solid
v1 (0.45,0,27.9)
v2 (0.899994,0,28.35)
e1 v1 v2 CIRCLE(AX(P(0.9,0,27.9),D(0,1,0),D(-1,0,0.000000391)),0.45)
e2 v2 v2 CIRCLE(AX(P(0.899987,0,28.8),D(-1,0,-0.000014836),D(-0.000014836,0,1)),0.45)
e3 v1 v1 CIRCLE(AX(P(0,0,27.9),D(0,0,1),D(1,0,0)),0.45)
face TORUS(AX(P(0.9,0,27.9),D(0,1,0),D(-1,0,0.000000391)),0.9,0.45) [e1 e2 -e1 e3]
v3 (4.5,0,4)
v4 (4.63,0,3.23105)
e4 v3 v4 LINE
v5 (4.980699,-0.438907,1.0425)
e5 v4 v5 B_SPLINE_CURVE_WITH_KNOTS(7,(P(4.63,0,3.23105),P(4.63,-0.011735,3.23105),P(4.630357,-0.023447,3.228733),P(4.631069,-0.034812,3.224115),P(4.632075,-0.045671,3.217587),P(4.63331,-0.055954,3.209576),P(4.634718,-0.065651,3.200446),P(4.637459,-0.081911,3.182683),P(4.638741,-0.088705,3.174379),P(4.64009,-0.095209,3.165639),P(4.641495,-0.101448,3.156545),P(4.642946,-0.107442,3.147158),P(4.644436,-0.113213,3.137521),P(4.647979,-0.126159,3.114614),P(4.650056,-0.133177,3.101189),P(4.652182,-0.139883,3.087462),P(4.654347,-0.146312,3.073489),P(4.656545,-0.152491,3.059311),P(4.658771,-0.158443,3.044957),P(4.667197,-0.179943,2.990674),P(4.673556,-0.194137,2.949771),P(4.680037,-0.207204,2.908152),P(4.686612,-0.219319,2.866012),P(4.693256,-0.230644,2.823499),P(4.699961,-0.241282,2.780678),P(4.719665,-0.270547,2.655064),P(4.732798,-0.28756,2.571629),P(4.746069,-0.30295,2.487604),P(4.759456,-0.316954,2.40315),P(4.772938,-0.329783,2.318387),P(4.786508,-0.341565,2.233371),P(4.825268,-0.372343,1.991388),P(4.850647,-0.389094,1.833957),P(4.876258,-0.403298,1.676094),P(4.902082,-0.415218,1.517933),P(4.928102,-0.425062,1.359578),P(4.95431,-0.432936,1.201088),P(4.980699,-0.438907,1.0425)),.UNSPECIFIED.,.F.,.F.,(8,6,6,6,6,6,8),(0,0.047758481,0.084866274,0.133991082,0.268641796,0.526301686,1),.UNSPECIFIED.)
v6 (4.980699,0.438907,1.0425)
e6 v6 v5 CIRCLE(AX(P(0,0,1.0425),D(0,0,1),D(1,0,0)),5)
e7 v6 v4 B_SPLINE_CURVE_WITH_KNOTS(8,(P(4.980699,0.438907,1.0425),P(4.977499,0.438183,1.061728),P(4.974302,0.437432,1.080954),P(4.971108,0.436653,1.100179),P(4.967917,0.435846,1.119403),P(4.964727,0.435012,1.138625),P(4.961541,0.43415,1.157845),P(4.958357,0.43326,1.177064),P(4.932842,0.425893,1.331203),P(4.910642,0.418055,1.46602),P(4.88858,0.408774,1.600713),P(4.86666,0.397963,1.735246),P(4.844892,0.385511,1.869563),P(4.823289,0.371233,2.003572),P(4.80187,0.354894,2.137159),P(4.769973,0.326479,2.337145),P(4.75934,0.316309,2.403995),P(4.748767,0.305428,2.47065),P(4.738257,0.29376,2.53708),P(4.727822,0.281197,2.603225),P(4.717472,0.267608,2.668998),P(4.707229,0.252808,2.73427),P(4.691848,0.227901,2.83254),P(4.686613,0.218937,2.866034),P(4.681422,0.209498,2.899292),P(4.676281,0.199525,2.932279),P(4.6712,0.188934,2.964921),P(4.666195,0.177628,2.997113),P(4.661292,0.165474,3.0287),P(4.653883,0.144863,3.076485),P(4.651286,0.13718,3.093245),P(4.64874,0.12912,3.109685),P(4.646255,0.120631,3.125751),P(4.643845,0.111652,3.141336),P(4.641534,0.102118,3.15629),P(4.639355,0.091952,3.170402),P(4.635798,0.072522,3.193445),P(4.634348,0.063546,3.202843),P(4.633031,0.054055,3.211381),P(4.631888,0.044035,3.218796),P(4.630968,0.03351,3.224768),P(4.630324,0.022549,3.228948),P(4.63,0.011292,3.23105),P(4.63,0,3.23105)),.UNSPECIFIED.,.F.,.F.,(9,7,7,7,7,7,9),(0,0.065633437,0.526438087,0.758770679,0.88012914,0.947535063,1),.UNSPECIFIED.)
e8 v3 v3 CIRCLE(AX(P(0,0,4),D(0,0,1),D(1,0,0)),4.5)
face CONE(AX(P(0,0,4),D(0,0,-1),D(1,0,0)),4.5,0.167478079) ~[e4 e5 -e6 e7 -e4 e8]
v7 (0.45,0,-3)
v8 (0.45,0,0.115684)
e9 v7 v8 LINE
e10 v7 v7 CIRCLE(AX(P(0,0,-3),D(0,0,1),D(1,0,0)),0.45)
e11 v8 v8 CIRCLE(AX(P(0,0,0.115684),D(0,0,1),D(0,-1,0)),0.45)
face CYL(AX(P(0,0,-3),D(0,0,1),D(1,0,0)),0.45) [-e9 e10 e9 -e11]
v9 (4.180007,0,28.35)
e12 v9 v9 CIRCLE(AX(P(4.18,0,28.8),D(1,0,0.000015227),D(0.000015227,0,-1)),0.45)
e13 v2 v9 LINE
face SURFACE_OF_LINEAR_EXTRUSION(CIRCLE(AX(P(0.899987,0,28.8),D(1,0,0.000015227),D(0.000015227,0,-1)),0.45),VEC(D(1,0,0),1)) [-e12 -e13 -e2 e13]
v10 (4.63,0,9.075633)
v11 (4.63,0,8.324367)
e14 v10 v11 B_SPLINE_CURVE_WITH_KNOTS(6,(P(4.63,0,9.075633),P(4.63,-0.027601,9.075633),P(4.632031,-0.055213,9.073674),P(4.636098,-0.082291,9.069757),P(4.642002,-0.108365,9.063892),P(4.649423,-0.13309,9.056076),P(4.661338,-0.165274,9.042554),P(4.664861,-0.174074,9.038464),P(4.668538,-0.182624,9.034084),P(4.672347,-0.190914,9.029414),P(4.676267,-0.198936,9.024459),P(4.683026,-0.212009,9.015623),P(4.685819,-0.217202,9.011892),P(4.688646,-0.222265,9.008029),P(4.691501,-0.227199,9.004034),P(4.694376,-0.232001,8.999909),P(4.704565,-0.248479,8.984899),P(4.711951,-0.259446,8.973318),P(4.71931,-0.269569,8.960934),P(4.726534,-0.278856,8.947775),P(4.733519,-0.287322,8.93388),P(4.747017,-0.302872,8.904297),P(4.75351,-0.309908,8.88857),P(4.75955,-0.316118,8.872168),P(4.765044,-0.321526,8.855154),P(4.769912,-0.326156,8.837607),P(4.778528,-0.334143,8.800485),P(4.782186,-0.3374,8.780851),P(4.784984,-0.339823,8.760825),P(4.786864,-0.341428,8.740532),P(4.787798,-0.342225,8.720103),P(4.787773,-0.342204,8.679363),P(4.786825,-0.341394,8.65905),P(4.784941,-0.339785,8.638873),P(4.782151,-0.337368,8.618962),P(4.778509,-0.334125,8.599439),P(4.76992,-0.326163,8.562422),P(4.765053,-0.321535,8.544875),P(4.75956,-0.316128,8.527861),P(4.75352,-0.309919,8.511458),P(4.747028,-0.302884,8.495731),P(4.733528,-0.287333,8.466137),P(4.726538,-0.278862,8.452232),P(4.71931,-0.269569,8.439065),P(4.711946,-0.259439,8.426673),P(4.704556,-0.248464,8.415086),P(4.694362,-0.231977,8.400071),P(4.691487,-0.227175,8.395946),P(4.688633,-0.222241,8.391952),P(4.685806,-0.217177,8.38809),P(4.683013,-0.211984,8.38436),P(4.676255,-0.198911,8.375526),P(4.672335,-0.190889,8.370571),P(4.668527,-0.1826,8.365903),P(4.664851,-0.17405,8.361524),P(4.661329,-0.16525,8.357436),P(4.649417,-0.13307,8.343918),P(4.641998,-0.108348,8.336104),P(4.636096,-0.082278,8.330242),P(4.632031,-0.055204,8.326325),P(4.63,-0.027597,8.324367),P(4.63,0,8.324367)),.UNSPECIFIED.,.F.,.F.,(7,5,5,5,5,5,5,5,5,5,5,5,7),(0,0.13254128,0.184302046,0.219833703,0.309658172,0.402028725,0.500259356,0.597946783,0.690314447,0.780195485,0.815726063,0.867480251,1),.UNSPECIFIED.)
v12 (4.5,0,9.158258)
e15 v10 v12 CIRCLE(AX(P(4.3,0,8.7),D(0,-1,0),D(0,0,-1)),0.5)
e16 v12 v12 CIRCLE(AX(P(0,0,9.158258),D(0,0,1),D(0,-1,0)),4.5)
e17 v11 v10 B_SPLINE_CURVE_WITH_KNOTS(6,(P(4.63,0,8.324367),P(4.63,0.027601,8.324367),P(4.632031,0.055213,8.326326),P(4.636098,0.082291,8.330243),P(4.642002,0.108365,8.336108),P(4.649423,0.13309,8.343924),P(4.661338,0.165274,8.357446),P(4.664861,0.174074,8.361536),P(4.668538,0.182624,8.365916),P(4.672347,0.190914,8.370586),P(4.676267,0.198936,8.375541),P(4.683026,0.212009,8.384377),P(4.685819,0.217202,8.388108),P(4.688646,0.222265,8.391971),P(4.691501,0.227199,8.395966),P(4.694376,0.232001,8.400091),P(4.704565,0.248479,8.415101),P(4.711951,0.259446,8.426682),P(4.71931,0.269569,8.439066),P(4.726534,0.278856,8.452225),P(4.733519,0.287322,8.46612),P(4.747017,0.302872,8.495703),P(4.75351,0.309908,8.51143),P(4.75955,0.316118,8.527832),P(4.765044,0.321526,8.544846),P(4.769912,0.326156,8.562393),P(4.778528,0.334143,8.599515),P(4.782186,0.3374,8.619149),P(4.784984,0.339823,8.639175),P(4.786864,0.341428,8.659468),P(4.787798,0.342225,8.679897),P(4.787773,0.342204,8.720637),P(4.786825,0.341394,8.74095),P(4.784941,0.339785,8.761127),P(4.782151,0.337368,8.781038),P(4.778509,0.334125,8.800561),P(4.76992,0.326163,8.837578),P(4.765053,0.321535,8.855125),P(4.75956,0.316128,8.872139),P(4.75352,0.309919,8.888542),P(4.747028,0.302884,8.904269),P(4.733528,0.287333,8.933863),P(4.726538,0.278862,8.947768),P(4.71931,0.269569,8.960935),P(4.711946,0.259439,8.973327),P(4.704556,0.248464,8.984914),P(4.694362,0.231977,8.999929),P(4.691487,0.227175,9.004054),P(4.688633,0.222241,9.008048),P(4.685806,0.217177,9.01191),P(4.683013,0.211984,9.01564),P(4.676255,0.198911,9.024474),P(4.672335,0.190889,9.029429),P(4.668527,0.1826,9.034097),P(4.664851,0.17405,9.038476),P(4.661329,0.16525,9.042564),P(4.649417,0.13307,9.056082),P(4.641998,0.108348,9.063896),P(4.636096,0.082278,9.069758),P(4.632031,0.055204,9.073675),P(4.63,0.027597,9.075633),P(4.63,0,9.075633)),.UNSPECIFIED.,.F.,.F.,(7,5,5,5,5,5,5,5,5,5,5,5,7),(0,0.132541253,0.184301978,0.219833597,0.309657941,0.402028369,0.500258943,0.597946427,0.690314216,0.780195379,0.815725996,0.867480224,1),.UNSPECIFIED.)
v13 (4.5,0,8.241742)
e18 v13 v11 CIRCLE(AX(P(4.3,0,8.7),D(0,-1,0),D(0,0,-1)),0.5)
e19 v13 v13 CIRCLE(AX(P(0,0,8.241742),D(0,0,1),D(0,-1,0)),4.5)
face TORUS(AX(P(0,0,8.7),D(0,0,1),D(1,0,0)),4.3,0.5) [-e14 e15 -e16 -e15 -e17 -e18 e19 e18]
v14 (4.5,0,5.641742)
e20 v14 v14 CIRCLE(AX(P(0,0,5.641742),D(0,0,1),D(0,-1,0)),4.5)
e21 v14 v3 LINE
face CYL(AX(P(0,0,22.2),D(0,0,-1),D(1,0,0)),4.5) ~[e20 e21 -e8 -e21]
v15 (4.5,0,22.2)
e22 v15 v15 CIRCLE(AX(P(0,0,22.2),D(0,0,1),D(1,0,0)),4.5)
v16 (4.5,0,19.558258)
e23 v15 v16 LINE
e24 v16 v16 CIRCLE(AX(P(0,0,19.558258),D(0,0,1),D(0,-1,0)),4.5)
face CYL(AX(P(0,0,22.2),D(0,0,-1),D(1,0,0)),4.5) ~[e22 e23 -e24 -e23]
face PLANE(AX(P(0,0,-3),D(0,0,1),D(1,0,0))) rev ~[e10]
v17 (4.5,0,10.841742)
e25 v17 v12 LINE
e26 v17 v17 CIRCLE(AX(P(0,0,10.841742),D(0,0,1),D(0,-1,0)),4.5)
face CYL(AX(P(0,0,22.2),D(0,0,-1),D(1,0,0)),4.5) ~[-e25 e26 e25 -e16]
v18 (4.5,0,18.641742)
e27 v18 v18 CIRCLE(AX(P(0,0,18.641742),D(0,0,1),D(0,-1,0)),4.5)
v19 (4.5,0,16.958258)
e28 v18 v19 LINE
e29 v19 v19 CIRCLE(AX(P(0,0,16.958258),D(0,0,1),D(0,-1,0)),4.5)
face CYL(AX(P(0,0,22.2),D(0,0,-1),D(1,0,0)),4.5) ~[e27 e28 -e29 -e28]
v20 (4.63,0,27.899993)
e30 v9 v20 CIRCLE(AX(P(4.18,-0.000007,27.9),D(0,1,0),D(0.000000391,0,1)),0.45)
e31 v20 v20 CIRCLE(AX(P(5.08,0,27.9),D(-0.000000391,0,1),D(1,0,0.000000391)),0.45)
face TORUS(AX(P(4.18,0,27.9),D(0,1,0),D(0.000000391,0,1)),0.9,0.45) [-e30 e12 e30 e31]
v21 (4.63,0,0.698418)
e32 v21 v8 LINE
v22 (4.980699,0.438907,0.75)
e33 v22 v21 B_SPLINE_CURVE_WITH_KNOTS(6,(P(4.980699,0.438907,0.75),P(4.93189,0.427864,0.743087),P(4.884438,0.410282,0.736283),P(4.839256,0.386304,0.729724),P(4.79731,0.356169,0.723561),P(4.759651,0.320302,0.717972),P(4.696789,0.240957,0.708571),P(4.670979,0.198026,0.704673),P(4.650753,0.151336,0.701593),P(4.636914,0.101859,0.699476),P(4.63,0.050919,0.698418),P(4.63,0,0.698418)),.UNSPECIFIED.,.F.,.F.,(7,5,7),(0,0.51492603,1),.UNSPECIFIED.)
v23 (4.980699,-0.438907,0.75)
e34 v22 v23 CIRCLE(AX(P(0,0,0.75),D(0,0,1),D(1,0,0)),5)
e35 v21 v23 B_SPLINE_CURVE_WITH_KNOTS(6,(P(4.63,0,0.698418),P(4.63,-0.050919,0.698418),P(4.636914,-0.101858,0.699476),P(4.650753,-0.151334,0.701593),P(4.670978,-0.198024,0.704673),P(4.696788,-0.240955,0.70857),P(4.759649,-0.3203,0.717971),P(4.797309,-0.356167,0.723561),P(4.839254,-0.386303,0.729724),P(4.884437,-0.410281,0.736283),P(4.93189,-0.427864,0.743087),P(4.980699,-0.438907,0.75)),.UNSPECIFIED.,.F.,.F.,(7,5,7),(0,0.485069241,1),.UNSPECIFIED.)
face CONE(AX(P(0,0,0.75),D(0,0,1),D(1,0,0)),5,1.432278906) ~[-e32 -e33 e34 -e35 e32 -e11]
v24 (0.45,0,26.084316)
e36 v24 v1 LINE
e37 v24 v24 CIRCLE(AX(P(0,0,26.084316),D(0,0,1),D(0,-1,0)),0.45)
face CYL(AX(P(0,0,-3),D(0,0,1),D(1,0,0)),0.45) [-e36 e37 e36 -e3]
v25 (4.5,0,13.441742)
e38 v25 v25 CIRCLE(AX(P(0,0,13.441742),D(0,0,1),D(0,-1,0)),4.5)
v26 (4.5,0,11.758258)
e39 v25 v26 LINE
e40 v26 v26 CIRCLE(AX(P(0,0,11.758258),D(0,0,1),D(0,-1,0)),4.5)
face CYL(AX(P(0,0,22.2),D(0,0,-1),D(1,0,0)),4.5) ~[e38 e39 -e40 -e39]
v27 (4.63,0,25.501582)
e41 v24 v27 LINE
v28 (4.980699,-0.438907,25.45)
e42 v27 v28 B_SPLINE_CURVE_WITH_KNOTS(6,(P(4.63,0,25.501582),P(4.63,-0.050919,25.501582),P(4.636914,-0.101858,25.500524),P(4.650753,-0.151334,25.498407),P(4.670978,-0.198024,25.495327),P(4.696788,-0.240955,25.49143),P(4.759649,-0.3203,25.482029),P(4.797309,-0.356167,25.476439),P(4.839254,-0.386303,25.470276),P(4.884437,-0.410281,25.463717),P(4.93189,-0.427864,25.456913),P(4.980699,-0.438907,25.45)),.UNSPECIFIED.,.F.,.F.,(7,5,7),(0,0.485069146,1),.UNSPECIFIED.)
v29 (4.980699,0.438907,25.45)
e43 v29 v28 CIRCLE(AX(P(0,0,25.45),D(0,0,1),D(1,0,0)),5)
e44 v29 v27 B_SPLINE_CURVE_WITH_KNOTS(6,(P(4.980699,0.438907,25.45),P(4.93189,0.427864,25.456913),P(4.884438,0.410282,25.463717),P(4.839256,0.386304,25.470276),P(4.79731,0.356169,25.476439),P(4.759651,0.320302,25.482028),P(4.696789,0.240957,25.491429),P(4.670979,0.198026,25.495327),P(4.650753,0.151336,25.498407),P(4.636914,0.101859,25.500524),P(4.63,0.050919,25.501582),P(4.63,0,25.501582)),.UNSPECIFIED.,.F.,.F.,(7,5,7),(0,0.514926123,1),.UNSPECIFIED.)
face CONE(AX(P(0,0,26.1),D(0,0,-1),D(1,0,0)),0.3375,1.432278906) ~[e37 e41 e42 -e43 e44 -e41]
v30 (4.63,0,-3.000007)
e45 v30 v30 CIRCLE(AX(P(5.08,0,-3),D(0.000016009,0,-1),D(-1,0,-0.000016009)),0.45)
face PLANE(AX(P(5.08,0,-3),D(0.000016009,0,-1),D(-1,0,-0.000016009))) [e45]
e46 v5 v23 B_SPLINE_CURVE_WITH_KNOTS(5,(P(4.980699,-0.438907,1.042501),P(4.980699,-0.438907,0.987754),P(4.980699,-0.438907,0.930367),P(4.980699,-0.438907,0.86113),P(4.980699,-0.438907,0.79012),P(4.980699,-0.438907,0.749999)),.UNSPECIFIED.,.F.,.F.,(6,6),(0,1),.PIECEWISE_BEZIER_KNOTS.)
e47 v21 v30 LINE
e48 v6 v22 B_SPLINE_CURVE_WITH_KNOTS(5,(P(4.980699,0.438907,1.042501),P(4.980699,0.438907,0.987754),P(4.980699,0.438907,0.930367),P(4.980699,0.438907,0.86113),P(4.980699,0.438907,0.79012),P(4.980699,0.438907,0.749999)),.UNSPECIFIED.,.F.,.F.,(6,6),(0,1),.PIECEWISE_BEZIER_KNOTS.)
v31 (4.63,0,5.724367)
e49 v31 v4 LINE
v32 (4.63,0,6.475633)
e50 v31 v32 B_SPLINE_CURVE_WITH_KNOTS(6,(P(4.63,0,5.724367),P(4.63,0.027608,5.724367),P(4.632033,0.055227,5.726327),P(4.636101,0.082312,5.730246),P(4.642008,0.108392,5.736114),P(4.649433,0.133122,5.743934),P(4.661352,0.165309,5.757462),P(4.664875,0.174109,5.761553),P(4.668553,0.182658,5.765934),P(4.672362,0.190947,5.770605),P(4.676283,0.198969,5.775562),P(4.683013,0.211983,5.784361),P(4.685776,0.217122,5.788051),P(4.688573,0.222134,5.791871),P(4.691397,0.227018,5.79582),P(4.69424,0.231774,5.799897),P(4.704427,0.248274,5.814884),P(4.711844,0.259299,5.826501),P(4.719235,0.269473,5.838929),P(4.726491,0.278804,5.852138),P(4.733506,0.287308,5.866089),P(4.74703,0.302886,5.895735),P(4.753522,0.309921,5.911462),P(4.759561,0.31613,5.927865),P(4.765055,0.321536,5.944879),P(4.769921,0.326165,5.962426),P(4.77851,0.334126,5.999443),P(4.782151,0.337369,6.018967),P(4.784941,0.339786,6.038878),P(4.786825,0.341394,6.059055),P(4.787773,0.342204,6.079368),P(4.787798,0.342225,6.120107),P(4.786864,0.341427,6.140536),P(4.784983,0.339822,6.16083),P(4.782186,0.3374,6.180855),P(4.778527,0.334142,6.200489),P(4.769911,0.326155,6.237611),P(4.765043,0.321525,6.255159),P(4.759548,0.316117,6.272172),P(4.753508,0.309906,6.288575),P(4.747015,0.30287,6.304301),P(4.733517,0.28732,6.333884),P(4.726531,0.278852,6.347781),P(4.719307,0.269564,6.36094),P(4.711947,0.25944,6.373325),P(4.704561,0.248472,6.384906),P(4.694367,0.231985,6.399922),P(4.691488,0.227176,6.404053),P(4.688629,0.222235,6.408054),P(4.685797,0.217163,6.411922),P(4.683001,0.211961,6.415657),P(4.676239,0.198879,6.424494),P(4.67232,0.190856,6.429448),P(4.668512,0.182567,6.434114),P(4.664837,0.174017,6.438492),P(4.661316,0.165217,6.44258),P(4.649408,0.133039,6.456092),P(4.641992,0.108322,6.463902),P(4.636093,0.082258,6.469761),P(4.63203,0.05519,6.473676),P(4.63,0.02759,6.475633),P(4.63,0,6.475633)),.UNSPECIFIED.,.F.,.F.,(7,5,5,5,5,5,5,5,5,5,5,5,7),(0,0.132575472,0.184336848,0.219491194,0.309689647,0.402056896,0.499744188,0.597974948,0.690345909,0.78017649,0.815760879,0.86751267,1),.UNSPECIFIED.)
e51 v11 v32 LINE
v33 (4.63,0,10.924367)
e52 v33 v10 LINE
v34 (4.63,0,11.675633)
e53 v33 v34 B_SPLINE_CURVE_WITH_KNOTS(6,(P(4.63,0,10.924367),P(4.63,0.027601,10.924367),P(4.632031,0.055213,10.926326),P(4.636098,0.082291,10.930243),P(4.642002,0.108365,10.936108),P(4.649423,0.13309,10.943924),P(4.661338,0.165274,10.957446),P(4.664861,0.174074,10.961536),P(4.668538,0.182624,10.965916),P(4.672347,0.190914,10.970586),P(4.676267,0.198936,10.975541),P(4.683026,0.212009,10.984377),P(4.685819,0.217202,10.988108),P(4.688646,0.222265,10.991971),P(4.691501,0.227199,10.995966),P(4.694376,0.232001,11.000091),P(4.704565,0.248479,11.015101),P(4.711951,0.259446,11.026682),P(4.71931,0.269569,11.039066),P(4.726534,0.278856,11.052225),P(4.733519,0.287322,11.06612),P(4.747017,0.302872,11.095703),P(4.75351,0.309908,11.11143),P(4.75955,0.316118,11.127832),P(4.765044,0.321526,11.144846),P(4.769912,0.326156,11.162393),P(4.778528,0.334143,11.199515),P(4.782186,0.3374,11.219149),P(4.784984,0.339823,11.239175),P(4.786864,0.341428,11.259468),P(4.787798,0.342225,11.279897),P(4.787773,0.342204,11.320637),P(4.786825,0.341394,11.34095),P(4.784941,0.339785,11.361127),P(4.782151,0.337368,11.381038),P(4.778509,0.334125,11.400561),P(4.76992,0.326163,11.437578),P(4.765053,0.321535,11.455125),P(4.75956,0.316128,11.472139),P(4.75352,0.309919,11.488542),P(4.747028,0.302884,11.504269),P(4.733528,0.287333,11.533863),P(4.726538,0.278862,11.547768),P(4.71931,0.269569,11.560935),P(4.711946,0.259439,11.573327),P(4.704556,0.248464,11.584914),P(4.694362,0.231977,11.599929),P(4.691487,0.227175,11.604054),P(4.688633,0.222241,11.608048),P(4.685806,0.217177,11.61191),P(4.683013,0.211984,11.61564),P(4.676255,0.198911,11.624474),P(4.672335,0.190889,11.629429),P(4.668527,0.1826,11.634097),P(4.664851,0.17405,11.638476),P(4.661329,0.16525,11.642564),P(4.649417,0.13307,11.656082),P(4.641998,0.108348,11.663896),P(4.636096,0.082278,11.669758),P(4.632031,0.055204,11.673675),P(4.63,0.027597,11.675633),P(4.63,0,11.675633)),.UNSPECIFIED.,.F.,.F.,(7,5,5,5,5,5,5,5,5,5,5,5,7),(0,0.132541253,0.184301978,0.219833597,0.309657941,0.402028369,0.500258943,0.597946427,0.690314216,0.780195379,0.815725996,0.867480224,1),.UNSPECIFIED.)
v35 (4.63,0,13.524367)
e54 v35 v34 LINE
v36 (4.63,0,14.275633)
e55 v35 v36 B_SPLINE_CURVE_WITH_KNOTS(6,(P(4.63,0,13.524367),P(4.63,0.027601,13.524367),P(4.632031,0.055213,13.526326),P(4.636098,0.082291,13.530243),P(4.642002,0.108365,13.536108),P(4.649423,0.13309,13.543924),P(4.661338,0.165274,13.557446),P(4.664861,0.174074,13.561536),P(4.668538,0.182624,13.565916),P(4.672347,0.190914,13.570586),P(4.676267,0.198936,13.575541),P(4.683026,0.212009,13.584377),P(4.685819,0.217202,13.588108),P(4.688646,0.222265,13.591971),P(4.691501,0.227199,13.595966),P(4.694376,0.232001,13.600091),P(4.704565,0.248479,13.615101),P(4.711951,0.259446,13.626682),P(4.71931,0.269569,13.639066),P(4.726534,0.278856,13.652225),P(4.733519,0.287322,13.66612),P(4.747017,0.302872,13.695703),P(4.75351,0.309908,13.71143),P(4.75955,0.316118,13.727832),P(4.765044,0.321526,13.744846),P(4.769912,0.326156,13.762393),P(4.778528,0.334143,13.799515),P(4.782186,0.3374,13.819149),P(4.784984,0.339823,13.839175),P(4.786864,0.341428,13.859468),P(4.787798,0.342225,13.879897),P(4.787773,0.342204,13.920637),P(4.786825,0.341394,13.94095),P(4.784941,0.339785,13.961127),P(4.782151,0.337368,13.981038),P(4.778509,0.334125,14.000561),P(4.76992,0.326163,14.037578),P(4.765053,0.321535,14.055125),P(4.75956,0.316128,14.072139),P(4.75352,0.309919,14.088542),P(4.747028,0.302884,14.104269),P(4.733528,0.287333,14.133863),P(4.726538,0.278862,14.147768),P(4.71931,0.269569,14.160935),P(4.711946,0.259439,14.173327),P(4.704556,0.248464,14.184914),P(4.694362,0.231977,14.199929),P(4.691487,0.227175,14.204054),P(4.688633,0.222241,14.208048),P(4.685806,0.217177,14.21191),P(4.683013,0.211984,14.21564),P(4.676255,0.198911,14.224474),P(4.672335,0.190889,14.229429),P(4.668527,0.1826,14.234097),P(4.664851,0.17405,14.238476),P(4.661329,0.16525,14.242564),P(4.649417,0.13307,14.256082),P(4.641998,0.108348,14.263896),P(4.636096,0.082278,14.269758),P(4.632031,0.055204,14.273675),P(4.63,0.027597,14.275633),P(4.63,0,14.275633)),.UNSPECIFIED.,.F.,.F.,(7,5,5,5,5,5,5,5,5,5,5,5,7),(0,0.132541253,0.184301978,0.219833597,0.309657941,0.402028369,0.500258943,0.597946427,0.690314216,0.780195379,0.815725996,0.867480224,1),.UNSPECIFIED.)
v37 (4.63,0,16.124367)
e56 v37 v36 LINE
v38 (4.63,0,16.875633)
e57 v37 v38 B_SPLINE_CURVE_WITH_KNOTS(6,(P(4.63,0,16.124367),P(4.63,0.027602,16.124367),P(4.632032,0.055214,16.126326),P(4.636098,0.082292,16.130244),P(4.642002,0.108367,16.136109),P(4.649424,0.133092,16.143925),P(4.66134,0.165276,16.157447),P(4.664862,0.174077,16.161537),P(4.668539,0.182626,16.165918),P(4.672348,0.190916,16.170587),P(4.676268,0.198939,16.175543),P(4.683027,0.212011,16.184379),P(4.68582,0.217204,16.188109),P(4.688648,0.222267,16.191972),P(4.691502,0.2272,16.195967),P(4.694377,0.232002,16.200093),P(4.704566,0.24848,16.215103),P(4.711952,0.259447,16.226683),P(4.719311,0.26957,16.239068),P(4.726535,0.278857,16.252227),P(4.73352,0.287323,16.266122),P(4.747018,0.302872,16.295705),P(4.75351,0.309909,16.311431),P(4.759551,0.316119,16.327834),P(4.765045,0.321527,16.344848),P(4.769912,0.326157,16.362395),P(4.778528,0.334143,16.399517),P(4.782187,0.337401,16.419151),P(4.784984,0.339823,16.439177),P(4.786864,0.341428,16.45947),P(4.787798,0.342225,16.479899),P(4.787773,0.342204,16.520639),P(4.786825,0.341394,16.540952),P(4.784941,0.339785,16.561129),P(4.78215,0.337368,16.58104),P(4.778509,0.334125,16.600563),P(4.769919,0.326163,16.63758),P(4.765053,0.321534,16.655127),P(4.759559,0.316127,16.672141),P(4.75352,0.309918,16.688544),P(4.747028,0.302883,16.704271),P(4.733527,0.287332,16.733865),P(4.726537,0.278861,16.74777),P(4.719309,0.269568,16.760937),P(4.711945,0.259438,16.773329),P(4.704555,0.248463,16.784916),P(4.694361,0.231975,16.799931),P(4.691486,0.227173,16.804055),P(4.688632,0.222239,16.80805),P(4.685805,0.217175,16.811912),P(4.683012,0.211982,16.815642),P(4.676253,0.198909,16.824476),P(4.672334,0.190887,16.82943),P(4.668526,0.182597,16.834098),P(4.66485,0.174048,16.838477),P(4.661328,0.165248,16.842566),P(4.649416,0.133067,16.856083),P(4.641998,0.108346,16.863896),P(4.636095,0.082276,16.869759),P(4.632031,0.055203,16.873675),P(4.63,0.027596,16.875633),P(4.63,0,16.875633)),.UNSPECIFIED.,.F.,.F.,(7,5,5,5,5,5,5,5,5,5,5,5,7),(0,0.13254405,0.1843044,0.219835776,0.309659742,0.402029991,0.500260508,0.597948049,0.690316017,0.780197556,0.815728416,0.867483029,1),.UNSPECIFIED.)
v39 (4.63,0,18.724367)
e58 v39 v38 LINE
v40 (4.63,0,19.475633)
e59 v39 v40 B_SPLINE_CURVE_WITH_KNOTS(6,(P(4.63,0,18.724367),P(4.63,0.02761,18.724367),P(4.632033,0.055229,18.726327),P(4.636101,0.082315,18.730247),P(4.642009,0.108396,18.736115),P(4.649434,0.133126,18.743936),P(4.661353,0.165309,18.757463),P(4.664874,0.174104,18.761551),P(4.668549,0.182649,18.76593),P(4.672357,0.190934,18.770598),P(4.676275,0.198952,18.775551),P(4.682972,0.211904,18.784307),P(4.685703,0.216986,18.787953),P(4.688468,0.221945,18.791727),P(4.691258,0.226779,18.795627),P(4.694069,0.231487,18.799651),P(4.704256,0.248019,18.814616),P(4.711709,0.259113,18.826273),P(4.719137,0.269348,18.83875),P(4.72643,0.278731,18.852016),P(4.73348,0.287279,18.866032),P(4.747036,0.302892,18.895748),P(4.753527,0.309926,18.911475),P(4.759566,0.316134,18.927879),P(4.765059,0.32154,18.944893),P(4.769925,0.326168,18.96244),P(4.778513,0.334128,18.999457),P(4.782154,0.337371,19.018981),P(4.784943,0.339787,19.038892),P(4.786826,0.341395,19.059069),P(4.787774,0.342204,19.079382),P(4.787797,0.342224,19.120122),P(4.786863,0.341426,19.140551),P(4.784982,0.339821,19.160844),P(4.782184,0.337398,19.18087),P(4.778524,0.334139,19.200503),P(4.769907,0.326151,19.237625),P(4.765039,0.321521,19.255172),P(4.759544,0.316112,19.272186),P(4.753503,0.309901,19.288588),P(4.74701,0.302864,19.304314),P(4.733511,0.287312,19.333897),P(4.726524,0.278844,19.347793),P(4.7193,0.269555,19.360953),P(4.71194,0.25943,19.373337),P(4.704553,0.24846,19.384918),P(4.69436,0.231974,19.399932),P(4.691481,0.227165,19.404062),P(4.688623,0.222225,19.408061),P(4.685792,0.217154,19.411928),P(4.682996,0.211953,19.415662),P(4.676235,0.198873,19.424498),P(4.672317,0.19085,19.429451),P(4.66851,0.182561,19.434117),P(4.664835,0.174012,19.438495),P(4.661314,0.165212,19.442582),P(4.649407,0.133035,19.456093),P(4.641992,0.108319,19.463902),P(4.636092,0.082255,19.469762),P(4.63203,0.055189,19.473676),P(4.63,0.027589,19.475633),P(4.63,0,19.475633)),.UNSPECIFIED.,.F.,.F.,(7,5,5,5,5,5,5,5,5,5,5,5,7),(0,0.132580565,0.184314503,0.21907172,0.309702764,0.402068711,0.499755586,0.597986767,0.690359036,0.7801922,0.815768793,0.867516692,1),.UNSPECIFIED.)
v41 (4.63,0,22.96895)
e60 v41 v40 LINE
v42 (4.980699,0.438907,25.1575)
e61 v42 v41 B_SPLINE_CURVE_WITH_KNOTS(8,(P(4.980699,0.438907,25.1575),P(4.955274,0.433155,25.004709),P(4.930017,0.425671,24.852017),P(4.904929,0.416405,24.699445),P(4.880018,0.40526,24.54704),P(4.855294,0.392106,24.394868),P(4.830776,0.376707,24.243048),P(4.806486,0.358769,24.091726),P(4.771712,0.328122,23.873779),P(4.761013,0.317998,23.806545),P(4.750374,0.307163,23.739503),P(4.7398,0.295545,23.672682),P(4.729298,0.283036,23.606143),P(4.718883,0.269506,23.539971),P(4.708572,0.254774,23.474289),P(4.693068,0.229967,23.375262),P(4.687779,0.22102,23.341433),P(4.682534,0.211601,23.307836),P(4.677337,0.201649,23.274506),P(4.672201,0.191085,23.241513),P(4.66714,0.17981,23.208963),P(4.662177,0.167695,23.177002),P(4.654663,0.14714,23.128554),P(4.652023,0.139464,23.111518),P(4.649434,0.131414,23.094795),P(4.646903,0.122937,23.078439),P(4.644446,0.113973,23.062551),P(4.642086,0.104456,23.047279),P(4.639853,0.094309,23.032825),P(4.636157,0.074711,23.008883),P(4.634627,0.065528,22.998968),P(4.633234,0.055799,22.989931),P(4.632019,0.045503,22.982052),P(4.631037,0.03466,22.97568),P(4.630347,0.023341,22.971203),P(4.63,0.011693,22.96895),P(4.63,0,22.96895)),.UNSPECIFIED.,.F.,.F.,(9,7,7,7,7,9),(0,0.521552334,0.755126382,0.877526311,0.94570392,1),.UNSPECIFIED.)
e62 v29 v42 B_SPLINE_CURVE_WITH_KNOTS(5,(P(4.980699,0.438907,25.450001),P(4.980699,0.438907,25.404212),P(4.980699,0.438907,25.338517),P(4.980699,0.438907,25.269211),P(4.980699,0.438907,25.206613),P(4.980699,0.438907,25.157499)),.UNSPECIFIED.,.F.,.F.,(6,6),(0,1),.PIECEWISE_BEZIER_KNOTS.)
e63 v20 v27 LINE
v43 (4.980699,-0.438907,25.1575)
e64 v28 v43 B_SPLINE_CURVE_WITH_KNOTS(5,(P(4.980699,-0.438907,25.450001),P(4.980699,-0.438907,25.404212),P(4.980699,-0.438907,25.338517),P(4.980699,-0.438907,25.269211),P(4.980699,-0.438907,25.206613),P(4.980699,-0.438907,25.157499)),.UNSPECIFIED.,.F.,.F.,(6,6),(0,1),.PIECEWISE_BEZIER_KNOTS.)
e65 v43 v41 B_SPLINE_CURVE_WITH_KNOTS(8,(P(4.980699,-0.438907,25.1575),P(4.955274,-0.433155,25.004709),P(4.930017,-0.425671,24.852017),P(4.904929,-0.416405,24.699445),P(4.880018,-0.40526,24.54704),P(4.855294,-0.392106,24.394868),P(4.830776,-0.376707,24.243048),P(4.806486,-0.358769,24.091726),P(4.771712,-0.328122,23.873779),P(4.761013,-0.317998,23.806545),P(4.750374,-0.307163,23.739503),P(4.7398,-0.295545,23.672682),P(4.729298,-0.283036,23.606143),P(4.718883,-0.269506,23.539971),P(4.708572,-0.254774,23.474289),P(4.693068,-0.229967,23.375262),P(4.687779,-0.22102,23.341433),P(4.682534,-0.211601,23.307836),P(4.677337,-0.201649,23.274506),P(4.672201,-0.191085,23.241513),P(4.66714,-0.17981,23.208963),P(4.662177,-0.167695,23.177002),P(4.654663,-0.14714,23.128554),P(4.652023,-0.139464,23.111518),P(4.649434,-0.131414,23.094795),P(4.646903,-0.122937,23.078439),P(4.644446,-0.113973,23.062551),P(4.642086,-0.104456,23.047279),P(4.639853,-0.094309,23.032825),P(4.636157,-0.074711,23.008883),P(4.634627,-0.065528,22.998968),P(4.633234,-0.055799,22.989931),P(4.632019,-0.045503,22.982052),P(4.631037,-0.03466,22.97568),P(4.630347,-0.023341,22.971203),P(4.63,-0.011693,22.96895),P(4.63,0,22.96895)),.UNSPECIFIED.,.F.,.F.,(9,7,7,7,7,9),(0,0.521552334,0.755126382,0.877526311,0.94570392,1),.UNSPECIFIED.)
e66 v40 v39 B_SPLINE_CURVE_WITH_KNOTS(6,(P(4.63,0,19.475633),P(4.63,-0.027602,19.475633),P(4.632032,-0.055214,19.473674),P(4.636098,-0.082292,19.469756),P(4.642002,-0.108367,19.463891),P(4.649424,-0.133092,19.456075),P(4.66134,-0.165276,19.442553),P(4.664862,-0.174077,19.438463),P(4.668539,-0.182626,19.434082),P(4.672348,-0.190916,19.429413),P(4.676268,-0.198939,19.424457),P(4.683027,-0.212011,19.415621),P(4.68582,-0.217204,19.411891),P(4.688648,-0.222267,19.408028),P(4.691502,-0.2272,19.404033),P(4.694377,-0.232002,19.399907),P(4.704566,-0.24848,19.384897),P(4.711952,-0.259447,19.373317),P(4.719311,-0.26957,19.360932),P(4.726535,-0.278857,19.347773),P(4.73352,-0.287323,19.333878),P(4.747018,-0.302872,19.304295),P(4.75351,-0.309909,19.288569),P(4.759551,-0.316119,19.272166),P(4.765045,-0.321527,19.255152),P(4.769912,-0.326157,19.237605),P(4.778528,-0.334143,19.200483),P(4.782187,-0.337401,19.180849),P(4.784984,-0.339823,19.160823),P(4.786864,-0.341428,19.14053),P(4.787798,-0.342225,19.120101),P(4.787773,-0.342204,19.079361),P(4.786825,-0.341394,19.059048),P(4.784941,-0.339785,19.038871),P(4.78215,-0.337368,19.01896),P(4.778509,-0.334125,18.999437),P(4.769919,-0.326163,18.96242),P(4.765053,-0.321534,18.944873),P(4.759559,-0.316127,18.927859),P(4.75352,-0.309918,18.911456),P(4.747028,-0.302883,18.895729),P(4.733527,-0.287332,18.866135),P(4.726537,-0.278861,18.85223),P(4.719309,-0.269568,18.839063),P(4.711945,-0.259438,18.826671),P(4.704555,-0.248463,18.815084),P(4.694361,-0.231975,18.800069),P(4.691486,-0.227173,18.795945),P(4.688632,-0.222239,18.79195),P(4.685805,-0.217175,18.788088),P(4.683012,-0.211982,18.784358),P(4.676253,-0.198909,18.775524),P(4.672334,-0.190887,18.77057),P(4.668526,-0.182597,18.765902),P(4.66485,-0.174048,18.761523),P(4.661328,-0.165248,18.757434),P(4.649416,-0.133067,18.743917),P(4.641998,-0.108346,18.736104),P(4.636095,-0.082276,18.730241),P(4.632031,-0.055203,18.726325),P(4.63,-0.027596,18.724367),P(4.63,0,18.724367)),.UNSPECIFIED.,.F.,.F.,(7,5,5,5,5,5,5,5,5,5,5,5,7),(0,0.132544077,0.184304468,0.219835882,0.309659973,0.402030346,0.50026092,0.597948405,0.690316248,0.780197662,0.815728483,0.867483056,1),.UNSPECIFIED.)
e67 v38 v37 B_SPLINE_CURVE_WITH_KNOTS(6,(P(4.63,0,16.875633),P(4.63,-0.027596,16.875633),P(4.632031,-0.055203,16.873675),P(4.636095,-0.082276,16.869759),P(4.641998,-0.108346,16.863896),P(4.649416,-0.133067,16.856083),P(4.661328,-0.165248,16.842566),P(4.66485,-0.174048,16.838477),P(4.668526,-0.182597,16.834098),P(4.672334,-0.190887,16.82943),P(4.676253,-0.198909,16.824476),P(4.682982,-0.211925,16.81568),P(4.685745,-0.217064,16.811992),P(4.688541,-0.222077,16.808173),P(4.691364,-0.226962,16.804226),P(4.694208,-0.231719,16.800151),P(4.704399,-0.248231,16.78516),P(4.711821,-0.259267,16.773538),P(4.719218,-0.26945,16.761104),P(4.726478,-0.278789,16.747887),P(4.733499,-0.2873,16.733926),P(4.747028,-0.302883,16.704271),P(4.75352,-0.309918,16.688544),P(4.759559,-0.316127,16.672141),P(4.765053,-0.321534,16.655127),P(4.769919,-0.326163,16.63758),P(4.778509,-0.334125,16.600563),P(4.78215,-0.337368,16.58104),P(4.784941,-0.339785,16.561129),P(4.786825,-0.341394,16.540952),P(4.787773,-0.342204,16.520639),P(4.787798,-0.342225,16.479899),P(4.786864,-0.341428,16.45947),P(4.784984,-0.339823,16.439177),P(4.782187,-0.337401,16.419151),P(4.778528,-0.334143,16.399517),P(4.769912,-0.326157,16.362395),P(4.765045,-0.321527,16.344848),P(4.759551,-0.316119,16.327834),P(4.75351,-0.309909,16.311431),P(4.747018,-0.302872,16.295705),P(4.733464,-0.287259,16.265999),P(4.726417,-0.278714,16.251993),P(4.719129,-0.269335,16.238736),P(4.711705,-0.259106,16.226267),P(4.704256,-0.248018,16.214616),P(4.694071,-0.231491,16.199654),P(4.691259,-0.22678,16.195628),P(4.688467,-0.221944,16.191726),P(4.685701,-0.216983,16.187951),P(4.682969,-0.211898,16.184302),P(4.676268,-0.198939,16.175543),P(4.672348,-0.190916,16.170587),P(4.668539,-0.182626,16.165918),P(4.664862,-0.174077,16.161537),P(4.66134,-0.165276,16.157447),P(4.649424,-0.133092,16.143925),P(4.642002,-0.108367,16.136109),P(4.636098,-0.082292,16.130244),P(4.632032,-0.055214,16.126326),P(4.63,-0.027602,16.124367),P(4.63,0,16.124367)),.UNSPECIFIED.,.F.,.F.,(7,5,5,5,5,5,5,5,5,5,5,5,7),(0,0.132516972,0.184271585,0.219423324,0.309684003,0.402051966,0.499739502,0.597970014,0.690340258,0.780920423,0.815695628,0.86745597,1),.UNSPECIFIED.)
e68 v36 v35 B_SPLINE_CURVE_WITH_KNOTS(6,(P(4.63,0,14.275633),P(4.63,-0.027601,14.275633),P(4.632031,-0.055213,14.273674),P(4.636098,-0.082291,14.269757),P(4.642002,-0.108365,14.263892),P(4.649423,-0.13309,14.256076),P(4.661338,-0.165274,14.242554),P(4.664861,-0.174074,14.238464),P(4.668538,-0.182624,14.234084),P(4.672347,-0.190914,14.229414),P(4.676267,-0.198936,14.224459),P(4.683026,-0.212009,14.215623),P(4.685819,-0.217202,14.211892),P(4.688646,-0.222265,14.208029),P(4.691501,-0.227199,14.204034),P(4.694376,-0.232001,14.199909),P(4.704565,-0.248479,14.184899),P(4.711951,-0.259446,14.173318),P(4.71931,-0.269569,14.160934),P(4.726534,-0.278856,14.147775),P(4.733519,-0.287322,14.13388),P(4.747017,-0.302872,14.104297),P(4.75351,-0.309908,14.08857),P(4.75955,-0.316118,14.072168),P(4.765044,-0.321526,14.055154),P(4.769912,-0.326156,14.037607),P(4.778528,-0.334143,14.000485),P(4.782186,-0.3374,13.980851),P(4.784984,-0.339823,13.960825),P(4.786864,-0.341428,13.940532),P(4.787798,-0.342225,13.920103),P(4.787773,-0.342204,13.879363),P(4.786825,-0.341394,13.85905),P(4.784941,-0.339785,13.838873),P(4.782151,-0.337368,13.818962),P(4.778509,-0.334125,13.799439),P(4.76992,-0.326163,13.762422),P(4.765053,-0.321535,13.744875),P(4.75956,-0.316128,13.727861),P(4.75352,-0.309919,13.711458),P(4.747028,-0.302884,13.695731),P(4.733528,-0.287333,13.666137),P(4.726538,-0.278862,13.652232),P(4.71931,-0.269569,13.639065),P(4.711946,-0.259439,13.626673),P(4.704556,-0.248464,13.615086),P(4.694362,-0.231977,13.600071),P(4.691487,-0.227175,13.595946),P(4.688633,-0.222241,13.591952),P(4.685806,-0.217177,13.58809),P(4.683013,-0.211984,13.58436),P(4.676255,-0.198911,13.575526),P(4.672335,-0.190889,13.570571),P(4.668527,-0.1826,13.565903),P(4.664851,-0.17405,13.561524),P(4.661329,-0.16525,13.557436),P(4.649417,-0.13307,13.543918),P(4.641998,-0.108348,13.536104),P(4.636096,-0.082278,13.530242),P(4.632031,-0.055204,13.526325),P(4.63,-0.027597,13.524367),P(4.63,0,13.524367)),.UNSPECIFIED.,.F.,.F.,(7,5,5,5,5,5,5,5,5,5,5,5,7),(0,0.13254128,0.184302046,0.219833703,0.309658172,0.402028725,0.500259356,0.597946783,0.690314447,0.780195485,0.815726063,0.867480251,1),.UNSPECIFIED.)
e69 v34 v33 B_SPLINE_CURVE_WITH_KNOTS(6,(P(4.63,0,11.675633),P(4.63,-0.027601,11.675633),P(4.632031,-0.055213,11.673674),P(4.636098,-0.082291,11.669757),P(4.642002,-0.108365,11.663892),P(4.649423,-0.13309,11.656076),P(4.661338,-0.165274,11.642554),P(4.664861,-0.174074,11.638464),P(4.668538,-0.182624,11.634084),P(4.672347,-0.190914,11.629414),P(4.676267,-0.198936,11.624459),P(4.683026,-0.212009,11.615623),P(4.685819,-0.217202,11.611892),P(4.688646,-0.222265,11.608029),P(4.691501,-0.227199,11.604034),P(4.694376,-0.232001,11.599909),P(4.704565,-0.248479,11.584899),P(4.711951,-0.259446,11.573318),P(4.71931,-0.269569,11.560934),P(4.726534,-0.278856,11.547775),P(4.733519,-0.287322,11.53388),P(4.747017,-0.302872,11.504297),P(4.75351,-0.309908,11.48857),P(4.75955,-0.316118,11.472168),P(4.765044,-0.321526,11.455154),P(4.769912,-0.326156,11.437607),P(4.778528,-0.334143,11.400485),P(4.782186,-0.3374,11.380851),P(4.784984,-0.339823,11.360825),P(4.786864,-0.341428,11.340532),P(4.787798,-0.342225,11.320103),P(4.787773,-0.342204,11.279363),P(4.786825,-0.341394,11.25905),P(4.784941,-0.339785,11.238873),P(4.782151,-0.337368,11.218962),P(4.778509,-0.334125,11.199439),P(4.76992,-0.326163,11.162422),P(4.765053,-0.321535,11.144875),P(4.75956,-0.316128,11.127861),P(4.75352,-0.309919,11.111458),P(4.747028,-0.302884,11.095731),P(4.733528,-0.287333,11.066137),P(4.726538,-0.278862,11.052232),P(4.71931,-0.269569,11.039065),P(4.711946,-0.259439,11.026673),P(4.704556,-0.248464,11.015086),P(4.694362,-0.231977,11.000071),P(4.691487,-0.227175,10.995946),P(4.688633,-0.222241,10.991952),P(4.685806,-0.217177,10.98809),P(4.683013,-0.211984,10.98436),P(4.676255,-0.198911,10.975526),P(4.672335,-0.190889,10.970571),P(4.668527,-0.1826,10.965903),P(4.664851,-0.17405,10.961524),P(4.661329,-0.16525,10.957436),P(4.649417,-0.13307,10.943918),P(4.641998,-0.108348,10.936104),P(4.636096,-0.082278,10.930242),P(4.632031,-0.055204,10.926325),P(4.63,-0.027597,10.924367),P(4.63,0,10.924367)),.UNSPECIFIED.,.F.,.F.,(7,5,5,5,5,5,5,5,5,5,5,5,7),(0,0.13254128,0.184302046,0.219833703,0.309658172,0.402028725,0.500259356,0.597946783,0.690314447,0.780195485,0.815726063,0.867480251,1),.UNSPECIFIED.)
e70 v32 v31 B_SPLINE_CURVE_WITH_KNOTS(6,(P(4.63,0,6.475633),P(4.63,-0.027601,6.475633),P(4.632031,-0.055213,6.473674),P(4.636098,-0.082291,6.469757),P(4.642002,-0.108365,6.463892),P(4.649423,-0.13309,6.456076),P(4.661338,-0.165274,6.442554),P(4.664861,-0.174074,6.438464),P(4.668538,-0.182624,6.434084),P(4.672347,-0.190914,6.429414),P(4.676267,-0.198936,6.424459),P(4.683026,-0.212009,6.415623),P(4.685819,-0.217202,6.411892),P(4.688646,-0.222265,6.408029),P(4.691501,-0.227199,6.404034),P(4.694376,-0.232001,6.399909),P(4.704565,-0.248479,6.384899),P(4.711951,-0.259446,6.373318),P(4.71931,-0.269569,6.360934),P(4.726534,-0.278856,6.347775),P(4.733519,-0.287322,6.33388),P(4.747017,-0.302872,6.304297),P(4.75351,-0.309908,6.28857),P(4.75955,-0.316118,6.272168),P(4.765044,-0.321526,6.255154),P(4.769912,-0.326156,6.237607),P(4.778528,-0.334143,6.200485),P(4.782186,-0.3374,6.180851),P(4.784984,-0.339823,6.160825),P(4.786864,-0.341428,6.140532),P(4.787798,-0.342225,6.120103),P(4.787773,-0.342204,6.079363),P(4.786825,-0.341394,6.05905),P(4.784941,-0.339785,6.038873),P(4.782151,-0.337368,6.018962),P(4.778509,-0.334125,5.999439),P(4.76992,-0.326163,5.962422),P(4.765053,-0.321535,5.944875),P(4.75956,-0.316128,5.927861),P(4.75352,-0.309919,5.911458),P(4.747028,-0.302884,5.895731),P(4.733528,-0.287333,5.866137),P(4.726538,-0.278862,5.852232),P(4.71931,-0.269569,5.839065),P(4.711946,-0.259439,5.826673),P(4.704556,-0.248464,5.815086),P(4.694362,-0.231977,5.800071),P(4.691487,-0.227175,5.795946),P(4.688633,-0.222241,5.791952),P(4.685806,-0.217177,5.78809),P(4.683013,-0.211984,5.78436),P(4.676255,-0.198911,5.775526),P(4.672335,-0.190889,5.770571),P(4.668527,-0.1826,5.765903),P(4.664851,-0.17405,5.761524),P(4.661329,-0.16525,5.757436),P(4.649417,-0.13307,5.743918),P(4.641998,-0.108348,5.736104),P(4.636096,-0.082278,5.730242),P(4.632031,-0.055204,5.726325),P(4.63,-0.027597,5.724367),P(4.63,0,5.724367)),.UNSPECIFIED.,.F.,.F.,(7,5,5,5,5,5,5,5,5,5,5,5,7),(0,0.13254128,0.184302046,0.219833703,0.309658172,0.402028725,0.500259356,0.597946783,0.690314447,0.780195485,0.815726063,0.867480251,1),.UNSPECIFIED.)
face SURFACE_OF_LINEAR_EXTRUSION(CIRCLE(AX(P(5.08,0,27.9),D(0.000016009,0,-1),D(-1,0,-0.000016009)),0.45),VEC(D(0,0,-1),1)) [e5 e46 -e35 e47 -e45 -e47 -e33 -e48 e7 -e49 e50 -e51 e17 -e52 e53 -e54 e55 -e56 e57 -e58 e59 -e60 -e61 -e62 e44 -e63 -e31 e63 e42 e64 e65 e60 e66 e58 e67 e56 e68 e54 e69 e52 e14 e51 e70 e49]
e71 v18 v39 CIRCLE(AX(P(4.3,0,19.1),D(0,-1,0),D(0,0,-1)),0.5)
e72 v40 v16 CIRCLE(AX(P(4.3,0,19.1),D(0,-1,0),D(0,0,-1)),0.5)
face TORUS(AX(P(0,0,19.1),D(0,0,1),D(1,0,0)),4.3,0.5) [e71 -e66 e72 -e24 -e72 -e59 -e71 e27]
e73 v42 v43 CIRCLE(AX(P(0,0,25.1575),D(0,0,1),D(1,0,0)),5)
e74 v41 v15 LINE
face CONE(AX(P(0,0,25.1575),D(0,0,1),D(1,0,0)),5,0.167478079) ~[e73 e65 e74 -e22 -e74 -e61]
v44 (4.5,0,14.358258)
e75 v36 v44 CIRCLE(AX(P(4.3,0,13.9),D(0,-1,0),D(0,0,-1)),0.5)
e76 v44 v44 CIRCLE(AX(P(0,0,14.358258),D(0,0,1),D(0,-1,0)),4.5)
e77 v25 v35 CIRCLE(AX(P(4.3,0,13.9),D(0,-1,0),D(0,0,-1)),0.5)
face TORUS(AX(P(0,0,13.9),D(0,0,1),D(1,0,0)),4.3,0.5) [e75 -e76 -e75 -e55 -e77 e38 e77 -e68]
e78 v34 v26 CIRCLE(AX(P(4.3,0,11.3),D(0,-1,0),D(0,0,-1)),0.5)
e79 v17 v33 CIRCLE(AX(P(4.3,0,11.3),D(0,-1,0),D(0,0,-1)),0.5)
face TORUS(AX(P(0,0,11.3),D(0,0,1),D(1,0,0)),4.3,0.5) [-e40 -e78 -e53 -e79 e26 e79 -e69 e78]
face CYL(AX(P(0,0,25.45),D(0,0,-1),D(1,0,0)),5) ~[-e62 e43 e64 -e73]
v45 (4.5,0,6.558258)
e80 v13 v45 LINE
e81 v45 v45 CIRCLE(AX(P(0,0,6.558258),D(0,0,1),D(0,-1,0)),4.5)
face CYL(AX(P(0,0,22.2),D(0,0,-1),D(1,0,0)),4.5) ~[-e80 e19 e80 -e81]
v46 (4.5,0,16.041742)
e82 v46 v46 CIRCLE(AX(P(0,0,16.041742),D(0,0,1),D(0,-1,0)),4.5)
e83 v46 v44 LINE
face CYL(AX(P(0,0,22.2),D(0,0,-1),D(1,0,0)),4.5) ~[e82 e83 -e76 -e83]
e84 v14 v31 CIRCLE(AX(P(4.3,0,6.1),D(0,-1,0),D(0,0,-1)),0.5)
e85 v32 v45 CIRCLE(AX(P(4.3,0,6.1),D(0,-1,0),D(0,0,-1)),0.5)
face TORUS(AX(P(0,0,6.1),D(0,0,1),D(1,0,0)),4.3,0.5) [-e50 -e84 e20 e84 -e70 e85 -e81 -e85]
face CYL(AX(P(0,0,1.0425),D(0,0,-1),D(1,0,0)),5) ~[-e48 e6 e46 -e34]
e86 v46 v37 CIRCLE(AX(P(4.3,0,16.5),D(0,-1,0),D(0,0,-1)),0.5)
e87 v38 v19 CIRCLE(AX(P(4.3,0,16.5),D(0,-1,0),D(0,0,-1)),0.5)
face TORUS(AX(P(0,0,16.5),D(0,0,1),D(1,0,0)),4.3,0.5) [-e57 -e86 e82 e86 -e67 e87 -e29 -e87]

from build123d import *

# Parameters (mm, degrees)
SKETCH_R = 0.45


with BuildPart() as revolution:
    # Sketch002 → Revolution (revolve)
    with BuildSketch(Plane.XZ):
        Polygon((0, 0.1), (0, 26.1), (0.3375, 26.1), (5, 25.45), (5, 25.1575), (4.5, 22.2), (4.5, 4), (5, 1.0425), (5, 0.75), (0.3375, 0.1), align=None)
    revolve(axis=Axis((0, 0, 0), (0, 0, 1)))


with BuildPart() as revolution001:
    # Sketch003 → Revolution001 (revolve)
    with BuildSketch(Plane.XZ):
        with BuildLine():
            Line((4, 21.2), (4, 4))
            Line((4, 4), (4.3, 4))
            Line((4.3, 4), (4.3, 5.6))
            ThreePointArc((4.3, 5.6), (4.8, 6.1), (4.3, 6.6))
            Line((4.3, 6.6), (4.3, 8.2))
            ThreePointArc((4.3, 8.2), (4.8, 8.7), (4.3, 9.2))
            Line((4.3, 9.2), (4.3, 10.8))
            ThreePointArc((4.3, 10.8), (4.8, 11.3), (4.3, 11.8))
            Line((4.3, 11.8), (4.3, 13.4))
            ThreePointArc((4.3, 13.4), (4.8, 13.9), (4.3, 14.4))
            Line((4.3, 14.4), (4.3, 16))
            ThreePointArc((4.3, 16), (4.8, 16.5), (4.3, 17))
            Line((4.3, 17), (4.3, 18.6))
            ThreePointArc((4.3, 18.6), (4.8, 19.1), (4.3, 19.6))
            Line((4.3, 21.2), (4.3, 19.6))
            Line((4, 21.2), (4.3, 21.2))
        make_face()
    revolve(axis=Axis((0, 0, 0), (0, 0, 1)))


with BuildPart() as sweep_mp_cp:
    # Sweep: sweep along a path in Sketch001
    with BuildLine(Plane.XZ) as sweep_path:
        Line((0, -3), (0, 27.9))
        ThreePointArc((0, 27.9), (0.263599, 28.536391), (0.899987, 28.8))
        Line((0.899987, 28.8), (4.18, 28.8))
        ThreePointArc((4.18, 28.8), (4.816396, 28.536396), (5.08, 27.9))
        Line((5.08, 27.9), (5.08, -3))
    # Sketch → Sweep (sweep)
    with BuildSketch(Plane.XY.offset(-2)):
        Circle(SKETCH_R)
    sweep(path=sweep_path.line)

    # Sweep_mp_cp: union Revolution, Revolution001
    add(revolution.part)
    add(revolution001.part)


solid = sweep_mp_cp.part
